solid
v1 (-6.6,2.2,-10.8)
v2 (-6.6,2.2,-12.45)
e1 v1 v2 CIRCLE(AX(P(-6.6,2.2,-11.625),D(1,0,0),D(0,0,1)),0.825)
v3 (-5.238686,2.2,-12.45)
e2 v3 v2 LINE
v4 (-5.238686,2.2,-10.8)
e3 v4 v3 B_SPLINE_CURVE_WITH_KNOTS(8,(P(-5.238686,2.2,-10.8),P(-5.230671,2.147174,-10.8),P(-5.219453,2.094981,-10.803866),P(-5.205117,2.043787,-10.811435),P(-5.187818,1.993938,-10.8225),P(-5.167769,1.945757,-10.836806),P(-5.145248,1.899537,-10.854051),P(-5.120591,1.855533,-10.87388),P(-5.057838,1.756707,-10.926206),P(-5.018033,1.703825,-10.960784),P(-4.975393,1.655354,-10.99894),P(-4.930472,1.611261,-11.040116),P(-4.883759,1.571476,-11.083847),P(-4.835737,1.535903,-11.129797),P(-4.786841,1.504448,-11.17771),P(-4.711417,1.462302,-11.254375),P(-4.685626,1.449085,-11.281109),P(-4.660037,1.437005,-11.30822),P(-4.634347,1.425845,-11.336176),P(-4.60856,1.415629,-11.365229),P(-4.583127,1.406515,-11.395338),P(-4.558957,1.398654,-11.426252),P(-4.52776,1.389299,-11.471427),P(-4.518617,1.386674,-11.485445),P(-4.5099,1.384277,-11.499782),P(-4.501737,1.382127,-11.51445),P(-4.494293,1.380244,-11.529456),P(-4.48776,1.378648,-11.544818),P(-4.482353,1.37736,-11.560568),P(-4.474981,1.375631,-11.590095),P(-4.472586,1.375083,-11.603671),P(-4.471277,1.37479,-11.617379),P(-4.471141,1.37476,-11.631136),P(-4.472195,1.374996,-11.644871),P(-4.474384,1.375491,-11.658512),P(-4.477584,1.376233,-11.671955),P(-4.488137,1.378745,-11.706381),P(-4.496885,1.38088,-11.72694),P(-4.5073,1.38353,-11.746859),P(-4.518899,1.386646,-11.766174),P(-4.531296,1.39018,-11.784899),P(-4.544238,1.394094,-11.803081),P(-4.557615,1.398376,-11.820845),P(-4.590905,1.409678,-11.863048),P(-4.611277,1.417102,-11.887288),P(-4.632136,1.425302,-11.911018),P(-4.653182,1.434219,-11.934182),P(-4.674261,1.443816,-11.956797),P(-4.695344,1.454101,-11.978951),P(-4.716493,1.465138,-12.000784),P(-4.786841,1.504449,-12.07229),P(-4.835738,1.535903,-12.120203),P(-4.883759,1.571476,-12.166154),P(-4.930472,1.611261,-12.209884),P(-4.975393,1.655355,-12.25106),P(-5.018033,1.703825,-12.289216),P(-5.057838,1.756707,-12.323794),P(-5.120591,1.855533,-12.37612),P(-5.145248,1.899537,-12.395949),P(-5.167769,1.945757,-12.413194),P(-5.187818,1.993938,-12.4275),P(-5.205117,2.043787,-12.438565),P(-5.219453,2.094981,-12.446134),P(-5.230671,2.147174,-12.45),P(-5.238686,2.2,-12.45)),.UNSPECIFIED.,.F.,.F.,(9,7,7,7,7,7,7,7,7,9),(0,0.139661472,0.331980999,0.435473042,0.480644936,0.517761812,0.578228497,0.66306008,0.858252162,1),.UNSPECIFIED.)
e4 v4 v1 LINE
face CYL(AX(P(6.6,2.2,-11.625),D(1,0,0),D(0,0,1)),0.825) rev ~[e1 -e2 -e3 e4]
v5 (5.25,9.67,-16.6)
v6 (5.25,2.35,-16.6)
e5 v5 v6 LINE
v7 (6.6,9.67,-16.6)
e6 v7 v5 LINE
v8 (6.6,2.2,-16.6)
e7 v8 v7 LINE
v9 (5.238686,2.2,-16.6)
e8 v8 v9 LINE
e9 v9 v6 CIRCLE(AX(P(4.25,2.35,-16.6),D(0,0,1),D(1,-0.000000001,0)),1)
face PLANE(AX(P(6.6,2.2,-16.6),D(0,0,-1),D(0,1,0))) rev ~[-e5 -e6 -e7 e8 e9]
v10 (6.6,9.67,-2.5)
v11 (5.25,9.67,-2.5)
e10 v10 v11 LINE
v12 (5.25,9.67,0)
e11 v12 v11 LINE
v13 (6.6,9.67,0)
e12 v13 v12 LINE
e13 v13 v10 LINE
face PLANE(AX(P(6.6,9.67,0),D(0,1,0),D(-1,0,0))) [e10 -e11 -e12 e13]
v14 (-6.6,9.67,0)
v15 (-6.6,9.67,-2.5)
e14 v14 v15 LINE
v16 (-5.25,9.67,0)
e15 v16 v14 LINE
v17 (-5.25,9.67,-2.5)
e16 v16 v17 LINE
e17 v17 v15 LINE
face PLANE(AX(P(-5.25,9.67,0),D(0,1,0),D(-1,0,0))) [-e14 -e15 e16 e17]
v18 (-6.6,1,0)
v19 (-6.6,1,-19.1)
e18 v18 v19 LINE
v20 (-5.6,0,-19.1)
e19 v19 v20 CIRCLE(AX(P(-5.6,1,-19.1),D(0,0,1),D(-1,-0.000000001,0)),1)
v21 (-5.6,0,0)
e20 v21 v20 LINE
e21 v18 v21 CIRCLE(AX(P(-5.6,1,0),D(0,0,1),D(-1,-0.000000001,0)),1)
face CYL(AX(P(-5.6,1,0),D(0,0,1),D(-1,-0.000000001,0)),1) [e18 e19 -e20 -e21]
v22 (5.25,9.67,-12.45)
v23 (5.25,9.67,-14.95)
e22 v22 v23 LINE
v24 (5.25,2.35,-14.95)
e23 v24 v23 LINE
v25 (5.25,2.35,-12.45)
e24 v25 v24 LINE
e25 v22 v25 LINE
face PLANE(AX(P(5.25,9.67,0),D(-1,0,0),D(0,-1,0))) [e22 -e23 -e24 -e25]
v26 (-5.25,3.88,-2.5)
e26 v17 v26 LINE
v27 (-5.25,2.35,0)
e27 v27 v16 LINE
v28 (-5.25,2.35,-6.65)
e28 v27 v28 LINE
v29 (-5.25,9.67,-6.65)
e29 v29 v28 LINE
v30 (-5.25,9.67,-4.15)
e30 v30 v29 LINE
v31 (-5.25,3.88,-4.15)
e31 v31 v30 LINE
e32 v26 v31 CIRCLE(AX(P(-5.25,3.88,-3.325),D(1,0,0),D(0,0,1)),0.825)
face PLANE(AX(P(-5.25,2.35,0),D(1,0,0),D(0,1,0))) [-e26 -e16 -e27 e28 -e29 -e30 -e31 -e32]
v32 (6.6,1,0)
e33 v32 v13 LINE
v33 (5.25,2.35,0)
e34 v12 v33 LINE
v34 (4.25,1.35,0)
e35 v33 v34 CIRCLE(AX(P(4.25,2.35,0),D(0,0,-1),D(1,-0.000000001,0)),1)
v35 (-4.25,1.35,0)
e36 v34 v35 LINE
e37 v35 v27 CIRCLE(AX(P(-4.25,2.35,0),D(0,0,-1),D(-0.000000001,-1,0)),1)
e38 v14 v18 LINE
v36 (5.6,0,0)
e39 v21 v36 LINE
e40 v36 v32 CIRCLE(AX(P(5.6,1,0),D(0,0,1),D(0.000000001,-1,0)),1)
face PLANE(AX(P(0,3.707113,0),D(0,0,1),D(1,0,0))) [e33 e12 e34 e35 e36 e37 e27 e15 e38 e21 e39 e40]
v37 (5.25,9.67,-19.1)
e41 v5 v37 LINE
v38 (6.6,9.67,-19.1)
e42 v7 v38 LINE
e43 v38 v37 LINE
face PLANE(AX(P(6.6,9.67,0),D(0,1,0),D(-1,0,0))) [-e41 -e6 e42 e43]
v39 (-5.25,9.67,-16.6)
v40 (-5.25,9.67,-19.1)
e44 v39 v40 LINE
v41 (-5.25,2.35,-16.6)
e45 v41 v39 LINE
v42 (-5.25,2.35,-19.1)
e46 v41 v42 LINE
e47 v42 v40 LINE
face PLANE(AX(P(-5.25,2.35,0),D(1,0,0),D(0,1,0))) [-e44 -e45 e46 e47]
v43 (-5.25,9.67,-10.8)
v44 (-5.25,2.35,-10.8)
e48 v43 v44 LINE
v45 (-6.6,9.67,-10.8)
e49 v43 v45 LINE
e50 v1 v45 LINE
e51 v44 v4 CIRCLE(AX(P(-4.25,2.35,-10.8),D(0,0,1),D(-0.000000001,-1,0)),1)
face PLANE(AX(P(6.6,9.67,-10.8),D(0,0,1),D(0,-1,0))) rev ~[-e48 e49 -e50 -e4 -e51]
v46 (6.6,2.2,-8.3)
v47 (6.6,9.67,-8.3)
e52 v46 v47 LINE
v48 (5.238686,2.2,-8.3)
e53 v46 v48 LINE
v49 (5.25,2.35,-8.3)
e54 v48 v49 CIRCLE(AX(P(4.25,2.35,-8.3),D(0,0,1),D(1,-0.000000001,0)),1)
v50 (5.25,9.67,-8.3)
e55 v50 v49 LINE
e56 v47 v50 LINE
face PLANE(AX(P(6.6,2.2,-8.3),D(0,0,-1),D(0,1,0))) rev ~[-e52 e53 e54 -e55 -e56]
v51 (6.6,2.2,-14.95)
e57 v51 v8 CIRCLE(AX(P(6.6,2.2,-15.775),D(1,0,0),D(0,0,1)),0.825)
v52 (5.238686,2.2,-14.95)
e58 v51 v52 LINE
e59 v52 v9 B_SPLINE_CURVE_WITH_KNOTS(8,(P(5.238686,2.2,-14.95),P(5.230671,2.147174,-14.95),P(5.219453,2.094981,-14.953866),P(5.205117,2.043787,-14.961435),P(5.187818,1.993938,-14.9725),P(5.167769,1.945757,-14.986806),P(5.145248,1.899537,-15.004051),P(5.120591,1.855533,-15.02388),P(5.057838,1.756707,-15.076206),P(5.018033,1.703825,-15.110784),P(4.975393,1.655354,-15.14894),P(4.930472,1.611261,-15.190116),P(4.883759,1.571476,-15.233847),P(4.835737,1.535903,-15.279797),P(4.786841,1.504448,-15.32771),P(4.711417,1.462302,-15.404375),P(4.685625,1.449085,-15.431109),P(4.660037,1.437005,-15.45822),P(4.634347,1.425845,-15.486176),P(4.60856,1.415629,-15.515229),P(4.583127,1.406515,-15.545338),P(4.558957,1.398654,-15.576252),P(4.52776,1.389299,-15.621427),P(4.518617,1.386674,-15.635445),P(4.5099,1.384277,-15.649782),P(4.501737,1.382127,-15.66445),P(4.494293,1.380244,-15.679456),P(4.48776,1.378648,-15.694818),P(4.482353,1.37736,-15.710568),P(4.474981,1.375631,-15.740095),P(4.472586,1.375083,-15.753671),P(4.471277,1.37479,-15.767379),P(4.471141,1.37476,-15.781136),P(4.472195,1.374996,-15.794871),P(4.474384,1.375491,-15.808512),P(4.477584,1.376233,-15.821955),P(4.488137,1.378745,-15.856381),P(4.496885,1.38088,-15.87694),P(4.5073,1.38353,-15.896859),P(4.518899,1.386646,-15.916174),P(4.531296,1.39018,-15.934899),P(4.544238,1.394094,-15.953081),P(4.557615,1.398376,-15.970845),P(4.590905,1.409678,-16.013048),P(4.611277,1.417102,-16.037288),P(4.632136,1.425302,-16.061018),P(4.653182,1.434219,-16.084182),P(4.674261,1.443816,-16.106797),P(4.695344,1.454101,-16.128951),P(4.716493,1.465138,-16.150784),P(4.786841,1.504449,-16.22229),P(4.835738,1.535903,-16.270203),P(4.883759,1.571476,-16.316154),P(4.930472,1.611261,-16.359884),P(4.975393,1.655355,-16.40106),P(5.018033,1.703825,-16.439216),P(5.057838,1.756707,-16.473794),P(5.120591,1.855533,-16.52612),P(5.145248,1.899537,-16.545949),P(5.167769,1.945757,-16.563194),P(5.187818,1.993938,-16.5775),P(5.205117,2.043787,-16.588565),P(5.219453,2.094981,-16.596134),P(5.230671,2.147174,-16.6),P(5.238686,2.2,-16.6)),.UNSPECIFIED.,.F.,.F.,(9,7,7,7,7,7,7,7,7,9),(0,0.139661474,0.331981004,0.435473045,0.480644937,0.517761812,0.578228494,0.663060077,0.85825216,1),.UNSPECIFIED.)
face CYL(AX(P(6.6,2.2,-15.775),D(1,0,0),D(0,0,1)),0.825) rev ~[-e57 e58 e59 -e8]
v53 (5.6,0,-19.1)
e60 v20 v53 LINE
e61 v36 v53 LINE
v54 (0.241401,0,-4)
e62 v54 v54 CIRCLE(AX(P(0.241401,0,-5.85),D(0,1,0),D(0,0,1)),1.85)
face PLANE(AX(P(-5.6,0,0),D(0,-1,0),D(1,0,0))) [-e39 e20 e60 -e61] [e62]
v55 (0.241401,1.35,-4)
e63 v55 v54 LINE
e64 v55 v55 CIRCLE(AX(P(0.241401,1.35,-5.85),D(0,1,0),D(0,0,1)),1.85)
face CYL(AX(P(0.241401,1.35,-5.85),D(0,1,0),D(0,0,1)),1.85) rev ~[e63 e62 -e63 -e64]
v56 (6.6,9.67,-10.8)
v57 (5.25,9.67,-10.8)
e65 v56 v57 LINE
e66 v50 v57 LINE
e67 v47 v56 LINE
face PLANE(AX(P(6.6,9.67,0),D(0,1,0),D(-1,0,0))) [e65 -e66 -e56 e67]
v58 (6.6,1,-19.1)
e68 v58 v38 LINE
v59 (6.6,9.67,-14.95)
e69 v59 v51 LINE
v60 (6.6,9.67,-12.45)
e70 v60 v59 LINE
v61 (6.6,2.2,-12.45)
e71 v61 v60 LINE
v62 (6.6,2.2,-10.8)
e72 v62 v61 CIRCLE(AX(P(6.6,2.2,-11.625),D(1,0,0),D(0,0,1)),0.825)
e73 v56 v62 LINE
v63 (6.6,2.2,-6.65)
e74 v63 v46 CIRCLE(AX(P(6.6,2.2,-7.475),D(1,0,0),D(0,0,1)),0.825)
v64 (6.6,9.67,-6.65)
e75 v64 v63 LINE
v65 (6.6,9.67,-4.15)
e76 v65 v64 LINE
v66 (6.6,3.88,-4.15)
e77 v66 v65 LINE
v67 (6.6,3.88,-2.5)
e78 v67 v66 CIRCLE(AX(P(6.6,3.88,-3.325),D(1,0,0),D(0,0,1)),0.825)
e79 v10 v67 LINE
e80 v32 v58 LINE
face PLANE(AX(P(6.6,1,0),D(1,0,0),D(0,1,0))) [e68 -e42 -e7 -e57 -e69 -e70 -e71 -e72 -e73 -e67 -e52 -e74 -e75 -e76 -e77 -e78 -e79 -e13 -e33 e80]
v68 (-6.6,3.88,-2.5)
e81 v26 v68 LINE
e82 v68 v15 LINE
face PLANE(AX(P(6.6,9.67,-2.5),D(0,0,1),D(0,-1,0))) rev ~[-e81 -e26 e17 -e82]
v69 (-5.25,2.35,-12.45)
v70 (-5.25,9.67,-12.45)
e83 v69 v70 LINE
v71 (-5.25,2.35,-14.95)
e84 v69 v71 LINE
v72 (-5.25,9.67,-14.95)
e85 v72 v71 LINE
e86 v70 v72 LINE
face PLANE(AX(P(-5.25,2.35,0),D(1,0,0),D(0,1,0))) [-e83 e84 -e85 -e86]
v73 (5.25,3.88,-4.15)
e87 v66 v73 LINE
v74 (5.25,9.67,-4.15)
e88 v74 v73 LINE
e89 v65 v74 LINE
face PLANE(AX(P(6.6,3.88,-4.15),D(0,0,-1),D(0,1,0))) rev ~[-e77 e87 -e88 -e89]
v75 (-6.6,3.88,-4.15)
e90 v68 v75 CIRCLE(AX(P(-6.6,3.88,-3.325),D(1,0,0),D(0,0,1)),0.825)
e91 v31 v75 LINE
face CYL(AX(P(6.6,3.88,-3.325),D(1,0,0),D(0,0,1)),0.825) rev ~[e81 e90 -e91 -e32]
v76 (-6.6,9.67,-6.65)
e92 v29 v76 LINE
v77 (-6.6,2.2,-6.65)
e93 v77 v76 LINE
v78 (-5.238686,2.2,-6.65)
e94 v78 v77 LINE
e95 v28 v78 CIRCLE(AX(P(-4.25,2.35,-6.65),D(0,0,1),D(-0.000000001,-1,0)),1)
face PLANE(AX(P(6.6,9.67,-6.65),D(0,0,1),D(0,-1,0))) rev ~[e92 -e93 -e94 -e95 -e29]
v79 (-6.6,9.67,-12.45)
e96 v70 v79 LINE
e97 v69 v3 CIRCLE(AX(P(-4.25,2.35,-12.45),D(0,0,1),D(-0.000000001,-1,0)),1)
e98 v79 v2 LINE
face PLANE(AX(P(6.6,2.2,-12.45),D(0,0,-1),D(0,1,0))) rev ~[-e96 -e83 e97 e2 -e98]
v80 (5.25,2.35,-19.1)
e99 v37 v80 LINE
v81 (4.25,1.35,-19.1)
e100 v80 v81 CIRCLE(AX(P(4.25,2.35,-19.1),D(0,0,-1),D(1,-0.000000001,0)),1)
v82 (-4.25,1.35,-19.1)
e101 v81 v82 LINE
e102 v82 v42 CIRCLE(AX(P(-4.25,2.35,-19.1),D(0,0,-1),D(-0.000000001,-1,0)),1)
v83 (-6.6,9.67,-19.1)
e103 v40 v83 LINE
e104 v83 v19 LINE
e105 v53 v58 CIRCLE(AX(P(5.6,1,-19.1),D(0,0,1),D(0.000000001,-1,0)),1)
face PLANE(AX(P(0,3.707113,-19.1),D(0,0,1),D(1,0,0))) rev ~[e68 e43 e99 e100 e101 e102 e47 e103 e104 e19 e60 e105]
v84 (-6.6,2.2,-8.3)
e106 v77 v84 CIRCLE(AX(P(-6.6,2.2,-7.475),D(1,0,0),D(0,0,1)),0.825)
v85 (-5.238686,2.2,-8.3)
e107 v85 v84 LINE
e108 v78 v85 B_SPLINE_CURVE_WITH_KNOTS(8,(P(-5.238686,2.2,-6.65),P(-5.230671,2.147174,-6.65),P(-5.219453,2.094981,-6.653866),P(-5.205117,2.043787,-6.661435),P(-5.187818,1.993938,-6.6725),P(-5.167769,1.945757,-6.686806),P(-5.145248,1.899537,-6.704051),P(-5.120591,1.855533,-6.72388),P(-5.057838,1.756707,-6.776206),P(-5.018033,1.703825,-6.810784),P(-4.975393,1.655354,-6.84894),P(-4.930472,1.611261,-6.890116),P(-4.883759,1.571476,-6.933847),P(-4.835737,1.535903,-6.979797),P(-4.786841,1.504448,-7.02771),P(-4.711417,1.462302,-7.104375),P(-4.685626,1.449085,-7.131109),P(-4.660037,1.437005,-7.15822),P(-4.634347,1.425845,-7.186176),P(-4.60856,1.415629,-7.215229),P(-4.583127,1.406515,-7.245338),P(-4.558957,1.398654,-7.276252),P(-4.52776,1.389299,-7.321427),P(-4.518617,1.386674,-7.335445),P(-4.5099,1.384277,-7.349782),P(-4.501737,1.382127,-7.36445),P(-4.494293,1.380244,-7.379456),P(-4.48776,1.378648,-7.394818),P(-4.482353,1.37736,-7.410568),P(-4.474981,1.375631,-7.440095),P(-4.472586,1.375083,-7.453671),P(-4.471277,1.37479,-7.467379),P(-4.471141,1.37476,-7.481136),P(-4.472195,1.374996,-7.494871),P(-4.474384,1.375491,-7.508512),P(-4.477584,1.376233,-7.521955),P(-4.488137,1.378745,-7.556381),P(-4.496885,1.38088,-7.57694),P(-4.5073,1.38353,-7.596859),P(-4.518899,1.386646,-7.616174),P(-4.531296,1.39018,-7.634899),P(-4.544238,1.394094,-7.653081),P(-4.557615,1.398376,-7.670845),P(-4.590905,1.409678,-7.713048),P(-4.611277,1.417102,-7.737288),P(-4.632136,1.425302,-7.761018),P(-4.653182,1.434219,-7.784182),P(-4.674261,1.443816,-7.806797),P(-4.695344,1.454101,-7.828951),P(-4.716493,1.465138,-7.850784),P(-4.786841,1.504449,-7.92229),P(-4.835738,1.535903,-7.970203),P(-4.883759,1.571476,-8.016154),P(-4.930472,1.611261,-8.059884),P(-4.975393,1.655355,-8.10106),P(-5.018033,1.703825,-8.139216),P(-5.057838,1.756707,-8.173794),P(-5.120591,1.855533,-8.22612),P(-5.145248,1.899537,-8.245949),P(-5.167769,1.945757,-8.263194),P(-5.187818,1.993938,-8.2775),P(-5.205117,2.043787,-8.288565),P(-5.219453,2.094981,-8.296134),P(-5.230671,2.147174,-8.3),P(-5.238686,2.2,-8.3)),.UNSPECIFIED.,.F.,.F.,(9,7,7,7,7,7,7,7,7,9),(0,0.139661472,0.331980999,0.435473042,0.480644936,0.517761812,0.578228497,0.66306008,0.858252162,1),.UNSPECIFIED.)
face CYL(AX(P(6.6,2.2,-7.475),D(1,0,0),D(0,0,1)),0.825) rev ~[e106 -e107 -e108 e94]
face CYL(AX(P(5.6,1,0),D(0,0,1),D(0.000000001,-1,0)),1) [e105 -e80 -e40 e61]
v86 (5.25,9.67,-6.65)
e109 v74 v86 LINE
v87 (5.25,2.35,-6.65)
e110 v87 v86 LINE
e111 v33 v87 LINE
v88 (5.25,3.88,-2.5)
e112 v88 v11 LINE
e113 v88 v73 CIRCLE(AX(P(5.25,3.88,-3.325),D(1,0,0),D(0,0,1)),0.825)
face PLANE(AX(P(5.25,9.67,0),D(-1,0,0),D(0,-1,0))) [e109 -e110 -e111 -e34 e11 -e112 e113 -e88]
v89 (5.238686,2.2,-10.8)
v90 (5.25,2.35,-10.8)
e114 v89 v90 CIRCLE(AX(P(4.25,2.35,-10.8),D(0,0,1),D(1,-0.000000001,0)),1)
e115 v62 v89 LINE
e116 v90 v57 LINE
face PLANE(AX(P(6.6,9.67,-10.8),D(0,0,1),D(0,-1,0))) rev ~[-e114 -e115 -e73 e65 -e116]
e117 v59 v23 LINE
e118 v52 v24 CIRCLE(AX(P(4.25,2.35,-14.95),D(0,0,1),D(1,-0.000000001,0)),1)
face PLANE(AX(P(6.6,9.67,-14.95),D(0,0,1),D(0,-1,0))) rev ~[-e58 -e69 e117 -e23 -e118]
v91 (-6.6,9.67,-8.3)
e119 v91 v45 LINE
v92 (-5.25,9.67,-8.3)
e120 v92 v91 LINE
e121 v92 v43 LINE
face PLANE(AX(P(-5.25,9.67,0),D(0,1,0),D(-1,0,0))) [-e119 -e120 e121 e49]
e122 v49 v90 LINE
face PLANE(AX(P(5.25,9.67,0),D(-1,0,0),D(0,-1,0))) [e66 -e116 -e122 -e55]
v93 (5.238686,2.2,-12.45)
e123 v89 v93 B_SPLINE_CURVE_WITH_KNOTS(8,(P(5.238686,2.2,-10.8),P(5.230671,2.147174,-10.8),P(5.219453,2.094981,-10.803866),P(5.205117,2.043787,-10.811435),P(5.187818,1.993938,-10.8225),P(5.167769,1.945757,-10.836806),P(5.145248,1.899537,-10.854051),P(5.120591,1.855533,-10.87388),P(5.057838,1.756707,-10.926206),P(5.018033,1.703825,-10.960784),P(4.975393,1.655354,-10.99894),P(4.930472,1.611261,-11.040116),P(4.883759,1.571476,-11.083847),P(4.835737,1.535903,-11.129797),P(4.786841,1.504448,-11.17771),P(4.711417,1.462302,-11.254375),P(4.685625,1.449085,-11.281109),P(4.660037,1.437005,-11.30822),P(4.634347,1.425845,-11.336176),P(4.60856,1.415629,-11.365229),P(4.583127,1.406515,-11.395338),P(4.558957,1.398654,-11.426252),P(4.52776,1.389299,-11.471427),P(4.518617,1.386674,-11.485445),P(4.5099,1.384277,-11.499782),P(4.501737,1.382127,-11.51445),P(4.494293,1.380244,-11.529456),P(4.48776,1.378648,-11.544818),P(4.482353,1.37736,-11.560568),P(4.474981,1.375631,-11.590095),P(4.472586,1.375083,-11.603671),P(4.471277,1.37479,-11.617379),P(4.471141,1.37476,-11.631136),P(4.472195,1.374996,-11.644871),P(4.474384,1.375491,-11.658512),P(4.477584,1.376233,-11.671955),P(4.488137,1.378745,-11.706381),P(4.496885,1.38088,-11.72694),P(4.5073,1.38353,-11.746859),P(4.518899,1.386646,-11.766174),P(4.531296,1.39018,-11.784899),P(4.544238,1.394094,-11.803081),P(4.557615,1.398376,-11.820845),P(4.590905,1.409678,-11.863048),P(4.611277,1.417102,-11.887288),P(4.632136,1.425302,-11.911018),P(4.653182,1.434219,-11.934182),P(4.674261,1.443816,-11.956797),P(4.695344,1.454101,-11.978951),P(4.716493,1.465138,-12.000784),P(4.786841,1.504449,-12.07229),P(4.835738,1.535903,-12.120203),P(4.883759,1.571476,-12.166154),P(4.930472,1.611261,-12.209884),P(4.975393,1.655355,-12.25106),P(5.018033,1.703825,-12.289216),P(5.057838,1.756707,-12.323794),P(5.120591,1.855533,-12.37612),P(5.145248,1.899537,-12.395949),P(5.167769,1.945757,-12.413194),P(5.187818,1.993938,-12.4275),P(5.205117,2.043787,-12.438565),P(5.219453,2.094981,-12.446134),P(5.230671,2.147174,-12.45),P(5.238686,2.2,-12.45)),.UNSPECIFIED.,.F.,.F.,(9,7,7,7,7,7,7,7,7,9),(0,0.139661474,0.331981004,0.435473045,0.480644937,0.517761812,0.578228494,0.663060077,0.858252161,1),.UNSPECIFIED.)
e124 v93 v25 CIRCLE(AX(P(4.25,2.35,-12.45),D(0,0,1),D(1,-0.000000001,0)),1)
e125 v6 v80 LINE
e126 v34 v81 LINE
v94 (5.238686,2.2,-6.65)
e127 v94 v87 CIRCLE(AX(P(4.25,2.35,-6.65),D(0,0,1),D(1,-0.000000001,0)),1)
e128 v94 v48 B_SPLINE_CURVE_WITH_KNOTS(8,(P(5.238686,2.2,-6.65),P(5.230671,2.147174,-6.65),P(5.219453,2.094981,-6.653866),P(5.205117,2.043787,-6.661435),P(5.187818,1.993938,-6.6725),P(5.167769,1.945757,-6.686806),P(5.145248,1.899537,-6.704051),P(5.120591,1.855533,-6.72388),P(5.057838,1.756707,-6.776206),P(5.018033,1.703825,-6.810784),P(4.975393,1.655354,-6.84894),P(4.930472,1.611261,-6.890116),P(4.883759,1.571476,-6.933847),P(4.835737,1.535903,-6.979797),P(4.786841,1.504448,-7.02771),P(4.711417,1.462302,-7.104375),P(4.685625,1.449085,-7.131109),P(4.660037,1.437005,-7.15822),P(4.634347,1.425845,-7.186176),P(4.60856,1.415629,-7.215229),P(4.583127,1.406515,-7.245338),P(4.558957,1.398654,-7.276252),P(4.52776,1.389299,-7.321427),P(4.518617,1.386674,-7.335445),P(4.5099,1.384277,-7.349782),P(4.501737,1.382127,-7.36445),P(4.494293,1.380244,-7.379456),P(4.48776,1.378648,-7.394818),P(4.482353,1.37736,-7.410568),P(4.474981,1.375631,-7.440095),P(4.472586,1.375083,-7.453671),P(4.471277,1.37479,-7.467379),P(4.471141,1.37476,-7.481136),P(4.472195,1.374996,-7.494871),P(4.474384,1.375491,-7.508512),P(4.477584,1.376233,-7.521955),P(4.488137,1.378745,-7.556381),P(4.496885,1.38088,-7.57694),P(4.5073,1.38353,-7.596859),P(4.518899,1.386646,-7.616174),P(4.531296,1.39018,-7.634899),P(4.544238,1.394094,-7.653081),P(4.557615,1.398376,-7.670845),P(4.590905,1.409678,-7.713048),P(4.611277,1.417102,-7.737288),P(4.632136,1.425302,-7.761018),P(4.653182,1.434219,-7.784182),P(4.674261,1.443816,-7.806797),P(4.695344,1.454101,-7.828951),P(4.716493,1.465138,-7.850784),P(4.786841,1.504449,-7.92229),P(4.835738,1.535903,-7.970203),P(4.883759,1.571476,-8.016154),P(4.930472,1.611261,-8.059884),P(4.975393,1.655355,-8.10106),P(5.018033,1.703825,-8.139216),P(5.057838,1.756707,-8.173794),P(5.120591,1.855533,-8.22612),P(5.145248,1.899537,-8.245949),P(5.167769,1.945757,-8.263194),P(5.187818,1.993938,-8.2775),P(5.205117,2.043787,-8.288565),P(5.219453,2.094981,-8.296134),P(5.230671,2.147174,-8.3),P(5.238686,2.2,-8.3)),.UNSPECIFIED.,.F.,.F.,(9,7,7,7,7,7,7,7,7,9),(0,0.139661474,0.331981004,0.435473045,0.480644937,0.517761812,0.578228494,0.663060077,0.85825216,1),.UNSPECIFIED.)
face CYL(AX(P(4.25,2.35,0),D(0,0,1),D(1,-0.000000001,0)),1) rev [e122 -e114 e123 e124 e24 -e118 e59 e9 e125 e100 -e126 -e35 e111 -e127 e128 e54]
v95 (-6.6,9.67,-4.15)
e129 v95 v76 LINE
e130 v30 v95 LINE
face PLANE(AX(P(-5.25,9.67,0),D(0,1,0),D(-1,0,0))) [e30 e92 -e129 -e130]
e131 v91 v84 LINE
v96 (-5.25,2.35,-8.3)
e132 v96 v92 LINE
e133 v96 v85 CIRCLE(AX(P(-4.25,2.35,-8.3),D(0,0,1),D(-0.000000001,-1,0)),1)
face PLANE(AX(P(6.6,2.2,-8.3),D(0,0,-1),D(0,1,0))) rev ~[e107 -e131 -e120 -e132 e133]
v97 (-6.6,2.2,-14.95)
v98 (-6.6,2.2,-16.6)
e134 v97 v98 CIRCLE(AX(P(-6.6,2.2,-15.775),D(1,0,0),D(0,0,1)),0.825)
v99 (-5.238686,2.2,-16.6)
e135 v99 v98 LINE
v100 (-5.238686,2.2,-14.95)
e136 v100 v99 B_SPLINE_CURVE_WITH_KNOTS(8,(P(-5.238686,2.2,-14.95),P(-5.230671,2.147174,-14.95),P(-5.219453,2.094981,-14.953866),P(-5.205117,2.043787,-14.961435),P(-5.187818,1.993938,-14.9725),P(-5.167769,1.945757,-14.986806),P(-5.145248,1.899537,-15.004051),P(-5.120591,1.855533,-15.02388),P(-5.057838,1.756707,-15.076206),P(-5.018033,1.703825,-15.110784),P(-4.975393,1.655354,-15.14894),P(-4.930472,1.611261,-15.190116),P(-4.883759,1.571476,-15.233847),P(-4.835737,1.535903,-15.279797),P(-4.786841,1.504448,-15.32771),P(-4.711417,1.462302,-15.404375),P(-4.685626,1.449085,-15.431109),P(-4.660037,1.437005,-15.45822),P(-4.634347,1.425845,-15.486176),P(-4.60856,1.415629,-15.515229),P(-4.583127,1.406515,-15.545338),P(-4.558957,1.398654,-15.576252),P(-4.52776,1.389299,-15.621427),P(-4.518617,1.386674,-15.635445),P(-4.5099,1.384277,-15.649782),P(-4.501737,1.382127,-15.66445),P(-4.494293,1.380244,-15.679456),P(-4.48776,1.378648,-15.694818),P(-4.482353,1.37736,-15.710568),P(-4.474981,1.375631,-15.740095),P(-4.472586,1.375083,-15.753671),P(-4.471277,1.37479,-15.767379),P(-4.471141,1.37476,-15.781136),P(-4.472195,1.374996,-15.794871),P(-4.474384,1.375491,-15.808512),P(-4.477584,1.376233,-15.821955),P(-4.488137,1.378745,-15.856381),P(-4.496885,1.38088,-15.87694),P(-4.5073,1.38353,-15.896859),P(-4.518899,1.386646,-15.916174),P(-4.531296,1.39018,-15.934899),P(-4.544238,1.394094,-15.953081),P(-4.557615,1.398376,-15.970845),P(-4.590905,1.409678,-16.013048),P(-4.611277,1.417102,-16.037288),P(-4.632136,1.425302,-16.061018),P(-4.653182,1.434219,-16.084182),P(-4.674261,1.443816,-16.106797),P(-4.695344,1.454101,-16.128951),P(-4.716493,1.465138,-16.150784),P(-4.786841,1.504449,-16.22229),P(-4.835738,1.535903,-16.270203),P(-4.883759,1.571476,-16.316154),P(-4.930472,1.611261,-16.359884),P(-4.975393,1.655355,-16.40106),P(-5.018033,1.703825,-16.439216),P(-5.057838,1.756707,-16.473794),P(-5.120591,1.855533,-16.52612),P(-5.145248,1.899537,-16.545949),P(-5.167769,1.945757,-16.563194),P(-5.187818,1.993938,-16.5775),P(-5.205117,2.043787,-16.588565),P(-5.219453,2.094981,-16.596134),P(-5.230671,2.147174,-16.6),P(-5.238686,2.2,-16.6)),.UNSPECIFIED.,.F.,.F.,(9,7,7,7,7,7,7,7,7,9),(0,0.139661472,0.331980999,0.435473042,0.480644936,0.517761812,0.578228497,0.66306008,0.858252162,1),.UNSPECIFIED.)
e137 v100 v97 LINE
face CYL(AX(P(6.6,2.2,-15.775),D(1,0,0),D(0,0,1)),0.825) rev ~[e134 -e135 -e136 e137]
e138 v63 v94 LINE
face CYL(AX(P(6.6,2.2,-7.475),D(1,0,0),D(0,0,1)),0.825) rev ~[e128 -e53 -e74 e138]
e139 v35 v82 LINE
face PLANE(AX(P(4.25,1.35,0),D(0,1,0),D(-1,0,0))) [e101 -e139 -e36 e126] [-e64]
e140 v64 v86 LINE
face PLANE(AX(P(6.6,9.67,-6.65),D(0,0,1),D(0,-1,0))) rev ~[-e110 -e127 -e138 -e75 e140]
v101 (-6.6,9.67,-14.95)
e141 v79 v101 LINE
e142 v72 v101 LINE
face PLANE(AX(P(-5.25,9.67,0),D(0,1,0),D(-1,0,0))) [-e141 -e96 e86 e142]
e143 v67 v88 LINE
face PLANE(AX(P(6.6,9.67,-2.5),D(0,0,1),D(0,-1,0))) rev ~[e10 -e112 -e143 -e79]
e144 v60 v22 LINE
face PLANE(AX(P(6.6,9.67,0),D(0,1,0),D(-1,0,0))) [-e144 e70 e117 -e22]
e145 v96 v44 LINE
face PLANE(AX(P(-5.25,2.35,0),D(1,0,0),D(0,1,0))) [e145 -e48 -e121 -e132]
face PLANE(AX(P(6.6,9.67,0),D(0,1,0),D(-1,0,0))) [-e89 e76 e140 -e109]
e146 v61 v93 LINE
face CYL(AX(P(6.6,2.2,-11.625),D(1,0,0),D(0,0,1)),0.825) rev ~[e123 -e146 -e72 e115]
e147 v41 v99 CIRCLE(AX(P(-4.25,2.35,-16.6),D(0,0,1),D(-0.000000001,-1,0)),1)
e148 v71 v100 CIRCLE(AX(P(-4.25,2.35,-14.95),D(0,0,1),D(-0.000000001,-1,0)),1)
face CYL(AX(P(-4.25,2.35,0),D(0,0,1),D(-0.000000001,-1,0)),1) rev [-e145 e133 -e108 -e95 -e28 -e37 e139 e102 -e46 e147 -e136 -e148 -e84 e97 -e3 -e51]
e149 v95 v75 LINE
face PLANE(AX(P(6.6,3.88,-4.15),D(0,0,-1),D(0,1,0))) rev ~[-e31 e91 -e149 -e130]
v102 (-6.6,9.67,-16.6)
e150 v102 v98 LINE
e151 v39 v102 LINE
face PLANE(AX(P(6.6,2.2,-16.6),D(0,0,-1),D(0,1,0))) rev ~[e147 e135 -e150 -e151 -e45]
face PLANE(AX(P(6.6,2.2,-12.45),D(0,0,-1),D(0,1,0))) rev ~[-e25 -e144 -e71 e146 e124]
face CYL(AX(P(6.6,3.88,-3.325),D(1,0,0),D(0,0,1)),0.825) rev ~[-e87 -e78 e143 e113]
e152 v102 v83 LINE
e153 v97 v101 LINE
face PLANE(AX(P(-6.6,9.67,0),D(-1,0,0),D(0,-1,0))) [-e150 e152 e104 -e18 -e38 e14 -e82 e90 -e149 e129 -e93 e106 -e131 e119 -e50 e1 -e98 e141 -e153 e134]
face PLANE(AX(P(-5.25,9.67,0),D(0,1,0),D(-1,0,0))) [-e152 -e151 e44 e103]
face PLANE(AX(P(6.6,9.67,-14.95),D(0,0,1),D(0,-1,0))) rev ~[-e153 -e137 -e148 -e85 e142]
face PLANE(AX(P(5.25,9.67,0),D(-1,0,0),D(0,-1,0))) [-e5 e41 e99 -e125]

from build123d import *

# Parameters (mm, degrees)
BOSS_EXTRUDE3_DEPTH = 19.1
CUT_EXTRUDE2_REACH  = 23.854
SKETCH3_R           = 1.85
CUT_EXTRUDE3_DEPTH  = 26.150723648


with BuildPart() as part:
    # Sketch1 → Boss-Extrude3 (new body)
    with BuildSketch(Plane.XY):
        with BuildLine():
            Line((-5.6, 0), (5.6, 0))
            ThreePointArc((5.6, 0), (6.307106781, 0.292893219), (6.6, 1))
            Line((6.6, 1), (6.6, 9.67))
            Line((6.6, 9.67), (5.25, 9.67))
            Line((5.25, 9.67), (5.25, 2.35))
            ThreePointArc((5.25, 2.35), (4.957106781, 1.642893219), (4.25, 1.35))
            Line((4.25, 1.35), (-4.25, 1.35))
            ThreePointArc((-4.25, 1.35), (-4.957106781, 1.642893219), (-5.25, 2.35))
            Line((-5.25, 2.35), (-5.25, 9.67))
            Line((-5.25, 9.67), (-6.6, 9.67))
            Line((-6.6, 9.67), (-6.6, 1))
            ThreePointArc((-6.6, 1), (-6.307106781, 0.292893219), (-5.6, 0))
        make_face()
    extrude(amount=-BOSS_EXTRUDE3_DEPTH)

    # Sketch3 → Cut-Extrude2 (cut, up to next)
    with BuildSketch(Plane(origin=(0, 1.35, 0), x_dir=(1, 0, 0), z_dir=(0, 1, 0)), mode=Mode.PRIVATE) as cut_extrude2_sk1:
        with Locations(Location((0.241401012, 5.85, 0), (0, 0, 270))):
            Circle(SKETCH3_R)
    cut_extrude2_tool1 = extrude(cut_extrude2_sk1.sketch, amount=-CUT_EXTRUDE2_REACH, mode=Mode.PRIVATE) & part.part
    add(cut_extrude2_tool1.solids().sort_by_distance((0.241401, 1.35, -5.85))[0], mode=Mode.SUBTRACT)

    # Sketch4 → Cut-Extrude3 (cut, through all)
    with BuildSketch(Plane(origin=(6.6, 0, 0), x_dir=(0, 0, -1), z_dir=(1, 0, 0))):
        with BuildLine():
            Line((2.5, 9.67), (2.5, 3.88))
            ThreePointArc((2.5, 3.88), (3.325, 3.055), (4.15, 3.88))
            Line((4.15, 3.88), (4.15, 9.67))
            Line((4.15, 9.67), (2.5, 9.67))
        make_face()
        with BuildLine():
            Line((6.65, 9.67), (6.65, 2.2))
            ThreePointArc((6.65, 2.2), (7.475, 1.375), (8.3, 2.2))
            Line((8.3, 2.2), (8.3, 9.67))
            Line((8.3, 9.67), (6.65, 9.67))
        make_face()
        with BuildLine():
            Line((10.8, 9.67), (10.8, 2.2))
            ThreePointArc((10.8, 2.2), (11.625, 1.375), (12.45, 2.2))
            Line((12.45, 2.2), (12.45, 9.67))
            Line((12.45, 9.67), (10.8, 9.67))
        make_face()
        with BuildLine():
            Line((14.95, 9.67), (14.95, 2.2))
            ThreePointArc((14.95, 2.2), (15.775, 1.375), (16.6, 2.2))
            Line((16.6, 2.2), (16.6, 9.67))
            Line((16.6, 9.67), (14.95, 9.67))
        make_face()
    extrude(amount=-CUT_EXTRUDE3_DEPTH, mode=Mode.SUBTRACT)


solid = part.part
